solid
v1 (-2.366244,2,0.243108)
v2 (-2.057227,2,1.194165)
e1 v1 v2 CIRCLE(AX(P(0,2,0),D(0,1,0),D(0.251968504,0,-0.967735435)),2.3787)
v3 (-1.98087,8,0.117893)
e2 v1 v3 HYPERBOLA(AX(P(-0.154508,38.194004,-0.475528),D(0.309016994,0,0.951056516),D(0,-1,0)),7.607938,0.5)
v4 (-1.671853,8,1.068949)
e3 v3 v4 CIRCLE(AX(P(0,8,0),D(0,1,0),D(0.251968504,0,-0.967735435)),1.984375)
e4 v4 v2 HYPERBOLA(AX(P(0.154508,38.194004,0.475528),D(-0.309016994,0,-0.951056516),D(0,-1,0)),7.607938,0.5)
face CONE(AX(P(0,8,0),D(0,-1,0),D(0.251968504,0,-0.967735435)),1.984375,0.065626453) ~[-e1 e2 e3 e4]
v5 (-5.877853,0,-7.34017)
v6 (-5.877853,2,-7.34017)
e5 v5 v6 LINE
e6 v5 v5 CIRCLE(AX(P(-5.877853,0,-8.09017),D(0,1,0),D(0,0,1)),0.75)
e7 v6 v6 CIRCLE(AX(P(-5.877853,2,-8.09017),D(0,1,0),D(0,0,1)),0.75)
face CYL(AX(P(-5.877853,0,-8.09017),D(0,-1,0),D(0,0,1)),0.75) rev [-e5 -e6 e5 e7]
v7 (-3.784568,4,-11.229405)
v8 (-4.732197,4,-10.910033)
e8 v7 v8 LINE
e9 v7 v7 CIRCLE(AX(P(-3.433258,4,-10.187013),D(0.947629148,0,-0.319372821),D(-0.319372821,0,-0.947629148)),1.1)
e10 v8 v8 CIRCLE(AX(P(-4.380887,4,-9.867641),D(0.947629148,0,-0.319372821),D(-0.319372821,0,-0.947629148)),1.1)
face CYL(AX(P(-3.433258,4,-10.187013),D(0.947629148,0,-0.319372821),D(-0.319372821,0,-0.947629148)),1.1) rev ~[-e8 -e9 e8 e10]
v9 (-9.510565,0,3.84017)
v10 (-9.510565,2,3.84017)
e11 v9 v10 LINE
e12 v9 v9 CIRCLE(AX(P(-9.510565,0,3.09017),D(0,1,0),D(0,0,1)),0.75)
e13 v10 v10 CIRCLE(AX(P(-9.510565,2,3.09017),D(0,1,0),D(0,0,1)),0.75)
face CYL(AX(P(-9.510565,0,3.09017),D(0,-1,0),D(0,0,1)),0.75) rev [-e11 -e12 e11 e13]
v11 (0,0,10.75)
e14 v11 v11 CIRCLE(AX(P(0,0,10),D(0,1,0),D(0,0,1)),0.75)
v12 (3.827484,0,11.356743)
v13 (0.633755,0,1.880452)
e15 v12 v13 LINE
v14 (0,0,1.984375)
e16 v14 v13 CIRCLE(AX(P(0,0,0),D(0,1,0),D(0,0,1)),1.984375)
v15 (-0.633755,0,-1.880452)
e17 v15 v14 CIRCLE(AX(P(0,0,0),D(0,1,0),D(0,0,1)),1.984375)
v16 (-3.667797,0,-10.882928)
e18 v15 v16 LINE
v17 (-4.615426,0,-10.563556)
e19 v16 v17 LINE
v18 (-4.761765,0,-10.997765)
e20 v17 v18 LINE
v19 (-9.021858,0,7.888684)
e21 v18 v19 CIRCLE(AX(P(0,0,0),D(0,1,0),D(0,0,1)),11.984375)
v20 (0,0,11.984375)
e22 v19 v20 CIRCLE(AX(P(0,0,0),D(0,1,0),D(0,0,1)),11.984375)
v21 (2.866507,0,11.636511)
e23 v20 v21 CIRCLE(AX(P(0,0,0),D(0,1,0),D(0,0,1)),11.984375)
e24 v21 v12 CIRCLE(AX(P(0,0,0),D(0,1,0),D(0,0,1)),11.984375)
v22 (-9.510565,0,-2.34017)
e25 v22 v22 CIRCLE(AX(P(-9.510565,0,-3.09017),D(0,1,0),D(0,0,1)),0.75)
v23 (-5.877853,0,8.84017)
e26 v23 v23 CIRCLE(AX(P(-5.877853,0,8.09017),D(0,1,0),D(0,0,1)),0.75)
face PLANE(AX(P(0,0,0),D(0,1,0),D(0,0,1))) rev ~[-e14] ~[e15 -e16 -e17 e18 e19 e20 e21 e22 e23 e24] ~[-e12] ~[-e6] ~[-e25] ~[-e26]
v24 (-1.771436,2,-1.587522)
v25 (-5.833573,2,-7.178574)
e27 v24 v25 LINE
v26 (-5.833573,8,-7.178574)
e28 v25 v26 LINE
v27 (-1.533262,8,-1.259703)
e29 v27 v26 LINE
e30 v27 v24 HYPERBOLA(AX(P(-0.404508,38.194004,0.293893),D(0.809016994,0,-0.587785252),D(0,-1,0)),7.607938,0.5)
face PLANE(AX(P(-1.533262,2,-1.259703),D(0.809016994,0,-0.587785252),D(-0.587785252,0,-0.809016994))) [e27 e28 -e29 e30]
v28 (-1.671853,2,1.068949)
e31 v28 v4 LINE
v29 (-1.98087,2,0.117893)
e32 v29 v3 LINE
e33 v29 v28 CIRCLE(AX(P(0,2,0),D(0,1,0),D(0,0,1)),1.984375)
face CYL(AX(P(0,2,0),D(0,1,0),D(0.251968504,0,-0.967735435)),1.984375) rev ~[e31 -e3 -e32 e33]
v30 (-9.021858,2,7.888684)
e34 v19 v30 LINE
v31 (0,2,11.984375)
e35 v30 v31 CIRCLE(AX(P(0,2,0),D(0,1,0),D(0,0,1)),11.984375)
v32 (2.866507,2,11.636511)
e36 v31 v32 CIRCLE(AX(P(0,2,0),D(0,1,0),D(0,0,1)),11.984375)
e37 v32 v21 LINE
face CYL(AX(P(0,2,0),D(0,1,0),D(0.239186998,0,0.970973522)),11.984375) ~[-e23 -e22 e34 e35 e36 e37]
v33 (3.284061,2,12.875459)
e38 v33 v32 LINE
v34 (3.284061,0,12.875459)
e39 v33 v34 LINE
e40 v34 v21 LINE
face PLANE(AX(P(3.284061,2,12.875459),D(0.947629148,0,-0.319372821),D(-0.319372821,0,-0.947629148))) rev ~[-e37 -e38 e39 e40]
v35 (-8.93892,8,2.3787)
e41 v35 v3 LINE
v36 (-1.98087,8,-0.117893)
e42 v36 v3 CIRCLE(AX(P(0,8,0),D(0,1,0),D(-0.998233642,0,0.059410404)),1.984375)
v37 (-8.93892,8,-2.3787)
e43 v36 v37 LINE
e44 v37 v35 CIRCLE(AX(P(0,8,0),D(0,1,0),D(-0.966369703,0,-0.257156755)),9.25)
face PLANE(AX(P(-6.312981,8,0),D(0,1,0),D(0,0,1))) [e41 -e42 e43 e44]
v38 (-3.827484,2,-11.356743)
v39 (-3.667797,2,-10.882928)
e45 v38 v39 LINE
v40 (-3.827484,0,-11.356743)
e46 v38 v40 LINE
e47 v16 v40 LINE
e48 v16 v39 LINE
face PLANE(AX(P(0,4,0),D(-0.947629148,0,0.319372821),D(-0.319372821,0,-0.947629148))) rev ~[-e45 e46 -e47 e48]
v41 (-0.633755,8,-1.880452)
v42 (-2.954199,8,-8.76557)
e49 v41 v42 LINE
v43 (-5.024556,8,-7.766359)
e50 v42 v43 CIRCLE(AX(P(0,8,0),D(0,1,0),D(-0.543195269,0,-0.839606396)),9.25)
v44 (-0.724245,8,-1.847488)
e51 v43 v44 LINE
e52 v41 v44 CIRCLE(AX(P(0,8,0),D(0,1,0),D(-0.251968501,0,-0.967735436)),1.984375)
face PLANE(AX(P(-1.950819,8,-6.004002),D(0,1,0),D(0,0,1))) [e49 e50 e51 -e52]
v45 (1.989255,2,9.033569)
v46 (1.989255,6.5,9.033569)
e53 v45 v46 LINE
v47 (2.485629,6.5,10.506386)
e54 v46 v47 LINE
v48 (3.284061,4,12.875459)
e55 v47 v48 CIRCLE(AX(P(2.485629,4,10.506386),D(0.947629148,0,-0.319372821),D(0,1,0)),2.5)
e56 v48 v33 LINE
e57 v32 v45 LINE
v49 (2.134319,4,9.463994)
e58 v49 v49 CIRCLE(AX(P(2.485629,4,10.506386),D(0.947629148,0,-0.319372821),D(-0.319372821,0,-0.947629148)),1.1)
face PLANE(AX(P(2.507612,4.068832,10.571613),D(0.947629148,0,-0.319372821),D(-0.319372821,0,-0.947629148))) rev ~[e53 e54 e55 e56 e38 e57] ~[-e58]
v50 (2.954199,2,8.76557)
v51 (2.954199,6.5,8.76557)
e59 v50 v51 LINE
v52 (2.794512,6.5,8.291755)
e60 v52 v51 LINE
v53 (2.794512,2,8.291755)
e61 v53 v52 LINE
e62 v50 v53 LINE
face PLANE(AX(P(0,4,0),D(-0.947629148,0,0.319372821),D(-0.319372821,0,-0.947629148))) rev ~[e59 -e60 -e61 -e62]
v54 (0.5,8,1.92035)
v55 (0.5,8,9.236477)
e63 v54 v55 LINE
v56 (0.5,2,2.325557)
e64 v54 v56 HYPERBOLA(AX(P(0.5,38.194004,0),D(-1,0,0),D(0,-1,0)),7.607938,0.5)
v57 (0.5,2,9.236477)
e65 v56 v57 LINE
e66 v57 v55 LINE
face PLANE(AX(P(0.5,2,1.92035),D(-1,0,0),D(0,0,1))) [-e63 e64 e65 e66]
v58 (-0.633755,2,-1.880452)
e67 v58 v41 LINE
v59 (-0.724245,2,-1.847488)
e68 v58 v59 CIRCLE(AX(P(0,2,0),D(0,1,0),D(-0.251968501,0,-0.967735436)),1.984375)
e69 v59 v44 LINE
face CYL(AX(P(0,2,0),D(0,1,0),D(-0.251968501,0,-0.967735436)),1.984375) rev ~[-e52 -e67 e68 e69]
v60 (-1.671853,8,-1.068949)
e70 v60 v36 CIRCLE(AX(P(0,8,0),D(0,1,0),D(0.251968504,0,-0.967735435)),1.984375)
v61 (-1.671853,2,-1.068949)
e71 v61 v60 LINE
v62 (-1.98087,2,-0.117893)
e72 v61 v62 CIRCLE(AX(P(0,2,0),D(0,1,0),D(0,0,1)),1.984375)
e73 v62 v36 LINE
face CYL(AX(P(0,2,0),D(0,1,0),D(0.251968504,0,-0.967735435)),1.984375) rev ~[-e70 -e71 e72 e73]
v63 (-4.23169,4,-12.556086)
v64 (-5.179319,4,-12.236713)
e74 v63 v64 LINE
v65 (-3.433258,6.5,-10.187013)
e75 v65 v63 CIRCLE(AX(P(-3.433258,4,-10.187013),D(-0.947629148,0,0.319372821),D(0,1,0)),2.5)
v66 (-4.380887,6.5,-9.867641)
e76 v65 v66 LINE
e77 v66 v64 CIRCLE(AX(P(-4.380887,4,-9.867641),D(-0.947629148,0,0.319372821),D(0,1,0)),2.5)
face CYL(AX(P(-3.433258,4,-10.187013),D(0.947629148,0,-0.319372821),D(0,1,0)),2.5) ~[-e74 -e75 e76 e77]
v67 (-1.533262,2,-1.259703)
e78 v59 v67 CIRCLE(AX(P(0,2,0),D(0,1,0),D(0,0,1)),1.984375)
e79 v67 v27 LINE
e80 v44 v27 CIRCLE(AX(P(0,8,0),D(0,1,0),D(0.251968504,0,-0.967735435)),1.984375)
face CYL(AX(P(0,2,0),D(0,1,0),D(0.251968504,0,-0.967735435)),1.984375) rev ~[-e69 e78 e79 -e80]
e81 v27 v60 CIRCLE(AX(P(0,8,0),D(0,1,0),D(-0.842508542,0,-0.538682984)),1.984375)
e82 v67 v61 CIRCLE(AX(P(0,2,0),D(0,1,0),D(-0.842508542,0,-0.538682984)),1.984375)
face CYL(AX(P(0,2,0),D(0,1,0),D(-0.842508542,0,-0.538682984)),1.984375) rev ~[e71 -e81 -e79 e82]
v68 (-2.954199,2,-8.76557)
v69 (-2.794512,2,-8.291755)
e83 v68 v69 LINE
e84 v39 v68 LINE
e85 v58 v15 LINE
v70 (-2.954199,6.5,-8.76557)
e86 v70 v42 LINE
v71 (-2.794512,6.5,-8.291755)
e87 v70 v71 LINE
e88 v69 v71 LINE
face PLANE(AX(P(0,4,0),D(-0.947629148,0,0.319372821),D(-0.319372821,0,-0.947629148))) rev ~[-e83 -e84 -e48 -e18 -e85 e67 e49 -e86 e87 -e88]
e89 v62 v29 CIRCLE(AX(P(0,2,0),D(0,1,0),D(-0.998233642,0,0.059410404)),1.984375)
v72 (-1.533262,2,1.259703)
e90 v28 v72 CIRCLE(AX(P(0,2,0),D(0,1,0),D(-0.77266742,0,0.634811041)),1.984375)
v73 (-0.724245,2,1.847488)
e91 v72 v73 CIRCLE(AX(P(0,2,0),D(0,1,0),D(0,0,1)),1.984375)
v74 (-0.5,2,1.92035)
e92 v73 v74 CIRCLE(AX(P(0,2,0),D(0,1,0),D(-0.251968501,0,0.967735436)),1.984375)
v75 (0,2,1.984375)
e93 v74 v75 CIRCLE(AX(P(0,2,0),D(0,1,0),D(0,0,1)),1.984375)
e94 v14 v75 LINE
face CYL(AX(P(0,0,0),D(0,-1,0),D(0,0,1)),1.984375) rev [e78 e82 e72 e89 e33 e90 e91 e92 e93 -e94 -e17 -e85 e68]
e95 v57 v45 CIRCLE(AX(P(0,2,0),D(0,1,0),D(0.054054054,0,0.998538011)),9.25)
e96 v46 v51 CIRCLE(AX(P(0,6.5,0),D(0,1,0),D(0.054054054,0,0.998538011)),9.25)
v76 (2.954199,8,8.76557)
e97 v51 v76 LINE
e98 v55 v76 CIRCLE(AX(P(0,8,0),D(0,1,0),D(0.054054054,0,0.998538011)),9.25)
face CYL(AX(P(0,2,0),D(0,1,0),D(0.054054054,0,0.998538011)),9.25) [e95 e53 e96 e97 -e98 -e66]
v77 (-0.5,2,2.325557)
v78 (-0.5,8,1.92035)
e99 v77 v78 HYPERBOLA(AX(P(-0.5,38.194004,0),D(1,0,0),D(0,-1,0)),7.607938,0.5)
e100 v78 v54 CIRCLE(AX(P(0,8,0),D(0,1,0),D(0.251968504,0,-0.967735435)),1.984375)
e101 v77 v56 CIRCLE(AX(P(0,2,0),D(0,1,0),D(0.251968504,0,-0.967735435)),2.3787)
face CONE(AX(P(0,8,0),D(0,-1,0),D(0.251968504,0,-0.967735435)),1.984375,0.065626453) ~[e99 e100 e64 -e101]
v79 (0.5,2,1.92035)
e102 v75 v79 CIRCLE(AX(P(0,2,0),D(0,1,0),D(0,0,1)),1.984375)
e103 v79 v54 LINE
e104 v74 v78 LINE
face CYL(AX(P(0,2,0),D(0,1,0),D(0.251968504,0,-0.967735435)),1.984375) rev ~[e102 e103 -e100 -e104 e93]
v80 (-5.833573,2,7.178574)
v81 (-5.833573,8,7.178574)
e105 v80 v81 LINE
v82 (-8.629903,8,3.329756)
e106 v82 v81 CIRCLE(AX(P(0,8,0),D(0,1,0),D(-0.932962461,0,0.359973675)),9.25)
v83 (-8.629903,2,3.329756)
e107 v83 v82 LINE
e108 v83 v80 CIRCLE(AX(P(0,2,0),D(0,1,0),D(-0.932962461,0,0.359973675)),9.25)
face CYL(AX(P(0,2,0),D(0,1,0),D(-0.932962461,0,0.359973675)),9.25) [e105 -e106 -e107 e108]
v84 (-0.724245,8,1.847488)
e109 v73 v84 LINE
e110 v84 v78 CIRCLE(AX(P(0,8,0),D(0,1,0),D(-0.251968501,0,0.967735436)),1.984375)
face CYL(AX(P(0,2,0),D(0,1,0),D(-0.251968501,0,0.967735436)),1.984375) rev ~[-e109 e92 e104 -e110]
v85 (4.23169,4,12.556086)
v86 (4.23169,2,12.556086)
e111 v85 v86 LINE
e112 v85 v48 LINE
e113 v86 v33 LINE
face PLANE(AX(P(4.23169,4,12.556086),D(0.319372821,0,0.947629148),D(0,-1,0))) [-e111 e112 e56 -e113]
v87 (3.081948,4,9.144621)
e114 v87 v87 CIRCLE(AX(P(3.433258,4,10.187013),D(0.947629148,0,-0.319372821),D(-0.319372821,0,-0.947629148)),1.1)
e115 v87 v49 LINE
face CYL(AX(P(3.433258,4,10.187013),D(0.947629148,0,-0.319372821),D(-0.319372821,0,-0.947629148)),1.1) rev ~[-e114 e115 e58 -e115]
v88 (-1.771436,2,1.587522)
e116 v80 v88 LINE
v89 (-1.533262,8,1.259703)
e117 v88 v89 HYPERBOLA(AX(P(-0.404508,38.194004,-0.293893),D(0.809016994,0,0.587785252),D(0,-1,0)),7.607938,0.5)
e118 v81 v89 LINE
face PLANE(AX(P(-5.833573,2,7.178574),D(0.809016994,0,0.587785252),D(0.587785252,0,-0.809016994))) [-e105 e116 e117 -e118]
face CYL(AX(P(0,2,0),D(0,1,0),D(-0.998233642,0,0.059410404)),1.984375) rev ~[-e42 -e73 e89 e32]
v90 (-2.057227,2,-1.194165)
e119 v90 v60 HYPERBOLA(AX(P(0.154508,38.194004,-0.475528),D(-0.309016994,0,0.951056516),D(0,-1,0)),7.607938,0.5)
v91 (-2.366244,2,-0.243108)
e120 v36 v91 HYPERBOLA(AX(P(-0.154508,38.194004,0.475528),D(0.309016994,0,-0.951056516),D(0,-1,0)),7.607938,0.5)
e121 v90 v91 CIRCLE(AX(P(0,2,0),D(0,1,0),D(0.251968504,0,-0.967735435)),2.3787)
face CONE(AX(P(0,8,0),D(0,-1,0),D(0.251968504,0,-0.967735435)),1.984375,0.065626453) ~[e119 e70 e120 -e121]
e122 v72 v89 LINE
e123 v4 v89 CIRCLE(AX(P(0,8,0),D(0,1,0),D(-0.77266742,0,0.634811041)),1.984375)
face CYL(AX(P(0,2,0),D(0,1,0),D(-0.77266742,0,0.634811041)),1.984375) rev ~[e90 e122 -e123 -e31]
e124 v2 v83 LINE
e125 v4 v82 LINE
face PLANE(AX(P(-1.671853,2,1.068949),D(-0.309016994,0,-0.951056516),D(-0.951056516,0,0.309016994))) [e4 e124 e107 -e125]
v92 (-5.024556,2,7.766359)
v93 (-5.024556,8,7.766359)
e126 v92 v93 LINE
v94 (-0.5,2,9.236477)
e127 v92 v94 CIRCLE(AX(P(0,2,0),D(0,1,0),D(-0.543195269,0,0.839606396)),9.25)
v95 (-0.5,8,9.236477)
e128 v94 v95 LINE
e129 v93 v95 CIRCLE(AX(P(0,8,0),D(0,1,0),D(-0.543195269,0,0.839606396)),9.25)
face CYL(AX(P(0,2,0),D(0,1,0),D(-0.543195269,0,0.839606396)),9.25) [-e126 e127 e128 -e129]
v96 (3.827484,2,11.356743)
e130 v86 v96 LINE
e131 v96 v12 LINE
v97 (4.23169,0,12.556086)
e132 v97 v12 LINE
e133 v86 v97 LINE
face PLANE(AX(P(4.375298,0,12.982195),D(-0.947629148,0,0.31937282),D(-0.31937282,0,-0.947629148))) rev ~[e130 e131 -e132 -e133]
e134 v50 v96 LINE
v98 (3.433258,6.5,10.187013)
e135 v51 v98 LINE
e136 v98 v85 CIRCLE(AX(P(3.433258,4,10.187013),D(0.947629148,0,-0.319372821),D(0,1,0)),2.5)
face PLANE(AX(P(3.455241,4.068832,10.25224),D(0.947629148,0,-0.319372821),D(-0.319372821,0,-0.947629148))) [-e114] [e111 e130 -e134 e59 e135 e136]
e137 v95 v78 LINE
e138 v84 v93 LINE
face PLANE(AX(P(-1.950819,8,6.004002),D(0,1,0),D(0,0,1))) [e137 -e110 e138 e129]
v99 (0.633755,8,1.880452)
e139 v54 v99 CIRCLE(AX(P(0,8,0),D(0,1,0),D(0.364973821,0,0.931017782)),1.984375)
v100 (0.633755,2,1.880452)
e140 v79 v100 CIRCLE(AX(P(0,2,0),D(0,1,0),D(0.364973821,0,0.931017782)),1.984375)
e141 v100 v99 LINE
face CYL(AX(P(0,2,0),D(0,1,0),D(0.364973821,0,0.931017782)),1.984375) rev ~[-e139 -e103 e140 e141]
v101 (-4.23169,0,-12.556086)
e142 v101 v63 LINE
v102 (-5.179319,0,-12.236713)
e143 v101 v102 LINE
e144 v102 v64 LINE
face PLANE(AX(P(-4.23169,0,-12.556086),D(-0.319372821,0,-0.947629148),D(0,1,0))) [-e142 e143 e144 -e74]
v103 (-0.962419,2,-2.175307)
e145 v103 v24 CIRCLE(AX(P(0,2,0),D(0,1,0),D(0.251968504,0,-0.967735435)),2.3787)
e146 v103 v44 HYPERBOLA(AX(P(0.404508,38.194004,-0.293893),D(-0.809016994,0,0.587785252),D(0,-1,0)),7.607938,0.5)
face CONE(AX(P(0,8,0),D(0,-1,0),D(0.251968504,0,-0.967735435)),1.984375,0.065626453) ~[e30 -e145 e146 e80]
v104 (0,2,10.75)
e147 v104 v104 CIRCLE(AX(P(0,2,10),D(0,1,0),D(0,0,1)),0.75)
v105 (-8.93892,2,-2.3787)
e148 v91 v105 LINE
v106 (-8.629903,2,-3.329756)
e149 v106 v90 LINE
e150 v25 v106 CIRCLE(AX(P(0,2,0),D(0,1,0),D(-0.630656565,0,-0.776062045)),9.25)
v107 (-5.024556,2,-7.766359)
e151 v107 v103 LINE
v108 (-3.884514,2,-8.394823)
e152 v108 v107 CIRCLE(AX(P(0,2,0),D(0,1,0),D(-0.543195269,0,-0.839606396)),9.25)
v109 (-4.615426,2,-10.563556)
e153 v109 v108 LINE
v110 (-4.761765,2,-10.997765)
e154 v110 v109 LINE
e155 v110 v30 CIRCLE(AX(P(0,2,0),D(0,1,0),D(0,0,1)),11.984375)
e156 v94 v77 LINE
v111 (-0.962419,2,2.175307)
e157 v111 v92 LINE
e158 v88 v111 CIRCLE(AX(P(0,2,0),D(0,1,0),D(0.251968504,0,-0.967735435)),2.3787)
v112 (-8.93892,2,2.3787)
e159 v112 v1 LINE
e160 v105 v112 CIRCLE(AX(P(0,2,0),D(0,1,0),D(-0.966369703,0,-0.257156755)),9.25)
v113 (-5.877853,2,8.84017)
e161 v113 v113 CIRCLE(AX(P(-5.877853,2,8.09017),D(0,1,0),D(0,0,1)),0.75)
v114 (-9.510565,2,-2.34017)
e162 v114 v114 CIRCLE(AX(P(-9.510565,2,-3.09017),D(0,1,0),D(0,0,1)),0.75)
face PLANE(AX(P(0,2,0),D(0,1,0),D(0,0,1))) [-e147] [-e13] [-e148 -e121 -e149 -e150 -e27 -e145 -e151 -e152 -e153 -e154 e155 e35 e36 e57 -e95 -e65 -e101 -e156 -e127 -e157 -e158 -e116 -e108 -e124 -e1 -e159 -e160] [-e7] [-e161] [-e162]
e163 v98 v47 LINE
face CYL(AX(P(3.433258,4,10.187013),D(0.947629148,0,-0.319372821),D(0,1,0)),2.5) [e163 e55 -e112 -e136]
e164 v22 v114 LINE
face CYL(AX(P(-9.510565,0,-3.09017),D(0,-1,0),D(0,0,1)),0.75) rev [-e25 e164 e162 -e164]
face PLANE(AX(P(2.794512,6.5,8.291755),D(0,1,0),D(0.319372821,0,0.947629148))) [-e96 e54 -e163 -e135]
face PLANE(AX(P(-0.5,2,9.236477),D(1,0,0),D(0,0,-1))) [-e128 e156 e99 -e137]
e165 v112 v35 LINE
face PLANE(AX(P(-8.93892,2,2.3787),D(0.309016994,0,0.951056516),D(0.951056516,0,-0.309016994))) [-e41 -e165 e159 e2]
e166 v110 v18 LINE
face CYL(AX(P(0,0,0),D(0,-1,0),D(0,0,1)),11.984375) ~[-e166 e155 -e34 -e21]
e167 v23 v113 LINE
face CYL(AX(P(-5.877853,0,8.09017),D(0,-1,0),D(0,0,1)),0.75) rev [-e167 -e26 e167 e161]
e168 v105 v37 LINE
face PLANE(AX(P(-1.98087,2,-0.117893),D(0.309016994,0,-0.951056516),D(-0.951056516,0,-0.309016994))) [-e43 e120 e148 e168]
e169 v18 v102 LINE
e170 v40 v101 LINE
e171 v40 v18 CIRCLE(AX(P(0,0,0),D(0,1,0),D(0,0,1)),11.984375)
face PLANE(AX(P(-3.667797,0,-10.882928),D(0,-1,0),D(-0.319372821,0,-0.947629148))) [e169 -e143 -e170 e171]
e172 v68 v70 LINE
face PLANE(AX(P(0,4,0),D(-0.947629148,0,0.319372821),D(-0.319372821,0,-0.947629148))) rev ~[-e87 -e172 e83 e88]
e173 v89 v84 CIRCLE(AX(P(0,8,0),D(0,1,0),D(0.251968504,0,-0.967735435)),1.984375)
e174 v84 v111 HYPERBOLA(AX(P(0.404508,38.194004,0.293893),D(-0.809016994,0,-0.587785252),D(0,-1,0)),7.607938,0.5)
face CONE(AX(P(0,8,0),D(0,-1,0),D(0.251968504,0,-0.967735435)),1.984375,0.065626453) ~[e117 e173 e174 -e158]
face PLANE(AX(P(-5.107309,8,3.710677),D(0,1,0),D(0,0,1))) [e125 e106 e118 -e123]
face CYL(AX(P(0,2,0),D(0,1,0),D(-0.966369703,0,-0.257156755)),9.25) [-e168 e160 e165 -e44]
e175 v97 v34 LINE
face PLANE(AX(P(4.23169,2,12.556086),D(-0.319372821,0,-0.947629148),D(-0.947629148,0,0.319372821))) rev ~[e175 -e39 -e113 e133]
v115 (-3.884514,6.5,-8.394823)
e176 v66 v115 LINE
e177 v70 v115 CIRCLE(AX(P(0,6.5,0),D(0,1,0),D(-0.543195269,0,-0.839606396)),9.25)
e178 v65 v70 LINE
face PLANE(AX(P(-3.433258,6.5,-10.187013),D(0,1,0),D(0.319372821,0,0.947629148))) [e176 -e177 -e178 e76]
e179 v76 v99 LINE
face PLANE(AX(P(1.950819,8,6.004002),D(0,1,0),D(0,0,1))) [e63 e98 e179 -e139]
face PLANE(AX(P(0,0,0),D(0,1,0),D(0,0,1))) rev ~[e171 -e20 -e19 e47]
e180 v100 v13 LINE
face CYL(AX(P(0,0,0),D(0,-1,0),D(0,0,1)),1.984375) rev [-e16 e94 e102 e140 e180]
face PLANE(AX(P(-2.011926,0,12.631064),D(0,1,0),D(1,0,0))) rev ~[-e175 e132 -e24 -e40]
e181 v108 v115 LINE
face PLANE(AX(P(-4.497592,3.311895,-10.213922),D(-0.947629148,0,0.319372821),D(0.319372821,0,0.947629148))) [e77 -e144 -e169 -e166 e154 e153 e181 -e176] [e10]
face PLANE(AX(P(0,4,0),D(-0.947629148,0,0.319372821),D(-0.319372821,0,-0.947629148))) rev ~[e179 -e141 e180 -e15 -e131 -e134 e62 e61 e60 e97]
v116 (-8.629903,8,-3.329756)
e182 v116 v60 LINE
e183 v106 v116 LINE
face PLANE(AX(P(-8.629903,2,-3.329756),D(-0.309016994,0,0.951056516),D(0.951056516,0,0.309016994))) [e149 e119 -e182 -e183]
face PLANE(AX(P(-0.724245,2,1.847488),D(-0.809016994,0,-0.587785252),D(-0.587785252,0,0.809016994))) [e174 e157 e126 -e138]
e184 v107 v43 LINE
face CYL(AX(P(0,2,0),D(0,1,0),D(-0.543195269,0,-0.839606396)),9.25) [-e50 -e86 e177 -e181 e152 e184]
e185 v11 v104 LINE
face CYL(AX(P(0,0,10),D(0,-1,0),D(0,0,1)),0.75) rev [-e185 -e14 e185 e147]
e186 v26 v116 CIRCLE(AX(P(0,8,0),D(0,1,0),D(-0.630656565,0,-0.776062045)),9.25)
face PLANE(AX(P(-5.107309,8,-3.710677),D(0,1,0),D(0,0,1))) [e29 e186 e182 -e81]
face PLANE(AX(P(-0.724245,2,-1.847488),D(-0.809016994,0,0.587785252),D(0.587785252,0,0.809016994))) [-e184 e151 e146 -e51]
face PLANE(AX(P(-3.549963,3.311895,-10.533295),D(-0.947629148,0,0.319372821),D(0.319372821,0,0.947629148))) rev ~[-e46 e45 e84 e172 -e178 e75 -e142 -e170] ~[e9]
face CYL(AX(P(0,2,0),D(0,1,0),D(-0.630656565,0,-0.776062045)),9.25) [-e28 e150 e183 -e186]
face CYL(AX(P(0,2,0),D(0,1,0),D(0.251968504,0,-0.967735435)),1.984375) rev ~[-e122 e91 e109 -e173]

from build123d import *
from build123d.topology import SkipClean

# Parameters (mm, degrees)
SKETCH1_R           = 11.984375
SKETCH1_R_2         = 1.984375
SKETCH1_R_3         = 0.75
BOSS_EXTRUDE1_DEPTH = 2
SKETCH6_W           = 23.96875
SKETCH6_H           = 8
CUT_EXTRUDE1_DEPTH  = 19.741677841
BOSS_EXTRUDE3_START = -2
SKETCH7_R           = 1.65
BOSS_EXTRUDE3_DEPTH = 2
SKETCH8_R           = 1.1
BOSS_EXTRUDE4_DEPTH = 1
CUT_EXTRUDE2_DEPTH  = 23.122053344


with BuildPart() as part:
    # Sketch1 → Boss-Extrude1 (new body)
    with BuildSketch(Plane(origin=(0, 0, 0), x_dir=(1, 0, 0), z_dir=(0, 1, 0))):
        with Locations(Location((0, 0, 0), (0, 0, 270))):
            Circle(SKETCH1_R)
        with Locations(Location((0, 0, 0), (0, 0, 270))):
            Circle(SKETCH1_R_2, mode=Mode.SUBTRACT)
        with Locations(Location((0, 10, 0), (0, 0, 270))):
            Circle(SKETCH1_R_3, mode=Mode.SUBTRACT)
        with Locations(Location((5.877852523, 8.090169944, 0), (0, 0, 270))):
            Circle(SKETCH1_R_3, mode=Mode.SUBTRACT)
        with Locations(Location((9.510565163, 3.090169944, 0), (0, 0, 270))):
            Circle(SKETCH1_R_3, mode=Mode.SUBTRACT)
        with Locations(Location((9.510565163, -3.090169944, 0), (0, 0, 270))):
            Circle(SKETCH1_R_3, mode=Mode.SUBTRACT)
        with Locations(Location((5.877852523, -8.090169944, 0), (0, 0, 270))):
            Circle(SKETCH1_R_3, mode=Mode.SUBTRACT)
        with Locations(Location((0, -10, 0), (0, 0, 270))):
            Circle(SKETCH1_R_3, mode=Mode.SUBTRACT)
        with Locations(Location((-5.877852523, -8.090169944, 0), (0, 0, 270))):
            Circle(SKETCH1_R_3, mode=Mode.SUBTRACT)
        with Locations(Location((-9.510565163, -3.090169944, 0), (0, 0, 270))):
            Circle(SKETCH1_R_3, mode=Mode.SUBTRACT)
        with Locations(Location((-9.510565163, 3.090169944, 0), (0, 0, 270))):
            Circle(SKETCH1_R_3, mode=Mode.SUBTRACT)
        with Locations(Location((-5.877852523, 8.090169944, 0), (0, 0, 270))):
            Circle(SKETCH1_R_3, mode=Mode.SUBTRACT)
    extrude(amount=BOSS_EXTRUDE1_DEPTH)

    # Sweep1: sweep along a path in Sketch3
    with SkipClean():  # the faces are left unmerged after this step: merging them gives an invalid solid
        with BuildLine(Plane(origin=(0, 0, 0), x_dir=(0, 0, -1), z_dir=(1, 0, 0))) as sweep1_path:
            Line((0, 2), (0, 8))
        # Sketch2 → Sweep1 (sweep)
        with BuildSketch(Plane(origin=(0, 2, 0), x_dir=(1, 0, 0), z_dir=(0, 1, 0))):
            with BuildLine():
                Line((-0.5, 9.236476601), (-0.5, 1.920350005))
                ThreePointArc((-0.5, 1.920350005), (-0.613205598, 1.887252775), (-0.724244915, 1.847488415))
                Line((-0.724244915, 1.847488415), (-5.024556232, 7.766359164))
                ThreePointArc((-5.024556232, 7.766359164), (-2.858407198, 8.797272776), (-0.5, 9.236476601))
            make_face()
            with BuildLine():
                Line((0.5, 9.236476601), (0.5, 1.920350005))
                ThreePointArc((0.5, 1.920350005), (0.613205598, 1.887252775), (0.724244915, 1.847488415))
                Line((0.724244915, 1.847488415), (5.024556232, 7.766359164))
                ThreePointArc((5.024556232, 7.766359164), (2.858407198, 8.797272776), (0.5, 9.236476601))
            make_face()
            with BuildLine():
                Line((5.833573226, 7.178573912), (1.533261909, 1.259703163))
                ThreePointArc((1.533261909, 1.259703163), (1.605393098, 1.16638636), (1.671852888, 1.068949045))
                Line((1.671852888, 1.068949045), (8.629902762, 3.329756496))
                ThreePointArc((8.629902762, 3.329756496), (7.483407198, 5.437013584), (5.833573226, 7.178573912))
            make_face()
            with BuildLine():
                Line((8.938919756, 2.37869998), (1.980869883, 0.117892528))
                ThreePointArc((1.980869883, 0.117892528), (1.984375, 0), (1.980869883, -0.117892528))
                Line((1.980869883, -0.117892528), (8.938919756, -2.37869998))
                ThreePointArc((8.938919756, -2.37869998), (9.25, 0), (8.938919756, 2.37869998))
            make_face()
            with BuildLine():
                Line((8.629902762, -3.329756496), (1.671852888, -1.068949045))
                ThreePointArc((1.671852888, -1.068949045), (1.605393098, -1.16638636), (1.533261909, -1.259703163))
                Line((1.533261909, -1.259703163), (5.833573226, -7.178573912))
                ThreePointArc((5.833573226, -7.178573912), (7.483407198, -5.437013584), (8.629902762, -3.329756496))
            make_face()
            with BuildLine():
                Line((5.024556232, -7.766359164), (0.724244915, -1.847488415))
                ThreePointArc((0.724244915, -1.847488415), (0.613205598, -1.887252775), (0.5, -1.920350005))
                Line((0.5, -1.920350005), (0.5, -9.236476601))
                ThreePointArc((0.5, -9.236476601), (2.858407198, -8.797272776), (5.024556232, -7.766359164))
            make_face()
            with BuildLine():
                Line((-0.5, -9.236476601), (-0.5, -1.920350005))
                ThreePointArc((-0.5, -1.920350005), (-0.613205598, -1.887252775), (-0.724244915, -1.847488415))
                Line((-0.724244915, -1.847488415), (-5.024556232, -7.766359164))
                ThreePointArc((-5.024556232, -7.766359164), (-2.858407198, -8.797272776), (-0.5, -9.236476601))
            make_face()
            with BuildLine():
                Line((-5.833573226, -7.178573912), (-1.533261909, -1.259703163))
                ThreePointArc((-1.533261909, -1.259703163), (-1.605393098, -1.16638636), (-1.671852888, -1.068949045))
                Line((-1.671852888, -1.068949045), (-8.629902762, -3.329756496))
                ThreePointArc((-8.629902762, -3.329756496), (-7.483407198, -5.437013584), (-5.833573226, -7.178573912))
            make_face()
            with BuildLine():
                Line((-8.938919756, -2.37869998), (-1.980869883, -0.117892528))
                ThreePointArc((-1.980869883, -0.117892528), (-1.984375, 0), (-1.980869883, 0.117892528))
                Line((-1.980869883, 0.117892528), (-8.938919756, 2.37869998))
                ThreePointArc((-8.938919756, 2.37869998), (-9.25, 0), (-8.938919756, -2.37869998))
            make_face()
            with BuildLine():
                Line((-8.629902762, 3.329756496), (-1.671852888, 1.068949045))
                ThreePointArc((-1.671852888, 1.068949045), (-1.605393098, 1.16638636), (-1.533261909, 1.259703163))
                Line((-1.533261909, 1.259703163), (-5.833573226, 7.178573912))
                ThreePointArc((-5.833573226, 7.178573912), (-7.483407198, 5.437013584), (-8.629902762, 3.329756496))
            make_face()
        sweep(path=sweep1_path.line)

    # Sketch4 → Revolve1 (revolve)
    with SkipClean():  # the faces are left unmerged after this step: merging them gives an invalid solid
        with BuildSketch(Plane(origin=(0, 0, 0), x_dir=(0, 0, -1), z_dir=(1, 0, 0)), mode=Mode.PRIVATE) as revolve1_sk:
            Polygon((-2.37869998, 2), (-1.984375, 2), (-1.984375, 8), align=None)
        revolve(revolve1_sk.sketch.rotate(Axis((0, 0, 0), (0, 1, 0)), 165.405971265), axis=Axis((0, 0, 0), (0, 1, 0)))

    # Sketch6 → Cut-Extrude1 (cut, through all)
    with SkipClean():  # the faces are left unmerged after this step: merging them gives an invalid solid
        with BuildSketch(Plane(origin=(0, 0, 0), x_dir=(-0.3193728209047868, 0, -0.9476291475399641), z_dir=(-0.9476291475399641, 0, 0.3193728209047868))):
            with Locations((0, -4)):
                Rectangle(SKETCH6_W, SKETCH6_H)
        extrude(amount=-CUT_EXTRUDE1_DEPTH, mode=Mode.SUBTRACT)

    # Sketch7 → Boss-Extrude3 (add)
    with SkipClean():  # the faces are left unmerged after this step: merging them gives an invalid solid
        with BuildSketch(Plane(origin=(0, 2, 0), x_dir=(1, 0, 0), z_dir=(0, 1, 0)).offset(BOSS_EXTRUDE3_START)):
            with BuildLine():
                Line((-9.021857716, -7.888683508), (-1.576209535, -16.403865848))
                ThreePointArc((-1.576209535, -16.403865848), (2.803074288, -17.134270389), (4.375298385, -12.982195127))
                Line((4.375298385, -12.982195127), (3.827483651, -11.356743065))
                ThreePointArc((3.827483651, -11.356743065), (-3.122857627, -11.570350227), (-9.021857716, -7.888683508))
            make_face()
            with Locations(Location((1.058596369, -14.1, 0), (0, 0, 270))):
                Circle(SKETCH7_R, mode=Mode.SUBTRACT)
        extrude(amount=BOSS_EXTRUDE3_DEPTH)

    # Sketch8 → Boss-Extrude4 (add)
    # profile 1 of 2: a face of its own
    with SkipClean():  # the faces are left unmerged after this step: merging them gives an invalid solid
        with BuildSketch(Plane(origin=(0, 0, 0), x_dir=(-0.31937282090478675, 0, -0.9476291475399641), z_dir=(0.9476291475399641, 0, -0.31937282090478675))):
            with BuildLine():
                Line((-13.25, 4), (-13.25, 2))
                Line((-13.25, 2), (-8.75, 2))
                Line((-8.75, 2), (-8.75, 6.5))
                Line((-8.75, 6.5), (-9.25, 6.5))
                Line((-9.25, 6.5), (-10.75, 6.5))
                ThreePointArc((-10.75, 6.5), (-12.517766953, 5.767766953), (-13.25, 4))
            make_face()
            with Locations((-10.75, 4)):
                Circle(SKETCH8_R, mode=Mode.SUBTRACT)
        # profile 2 of 2: a face of its own
        with BuildSketch(Plane(origin=(0, 0, 0), x_dir=(-0.31937282090478675, 0, -0.9476291475399641), z_dir=(0.9476291475399641, 0, -0.31937282090478675))):
            with BuildLine():
                Line((11.484375, 2), (8.75, 2))
                Line((8.75, 2), (8.75, 6.5))
                Line((8.75, 6.5), (9.25, 6.5))
                Line((9.25, 6.5), (10.75, 6.5))
                ThreePointArc((10.75, 6.5), (12.517766953, 5.767766953), (13.25, 4))
                Line((13.25, 4), (13.25, 2))
                Line((13.25, 2), (13.25, 0))
                Line((13.25, 0), (11.984375, 0))
                Line((11.984375, 0), (11.484375, 0))
                Line((11.484375, 0), (11.484375, 2))
            make_face()
            with Locations((10.75, 4)):
                Circle(SKETCH8_R, mode=Mode.SUBTRACT)
        extrude(amount=-BOSS_EXTRUDE4_DEPTH)

    # Sketch9 → Cut-Extrude2 (cut, through all)
    with SkipClean():  # the faces are left unmerged after this step: merging them gives an invalid solid
        with BuildSketch(Plane(origin=(0, 2, 0), x_dir=(1, 0, 0), z_dir=(0, 1, 0))):
            with BuildLine():
                Line((-9.021857716, -7.888683508), (-1.576209535, -16.403865848))
                ThreePointArc((-1.576209535, -16.403865848), (2.803074288, -17.134270389), (4.375298385, -12.982195127))
                Line((4.375298385, -12.982195127), (4.231689877, -12.556086205))
                Line((4.231689877, -12.556086205), (3.284060729, -12.875459026))
                Line((3.284060729, -12.875459026), (2.866506678, -11.6365108))
                ThreePointArc((2.866506678, -11.6365108), (-3.603281692, -11.429855869), (-9.021857716, -7.888683508))
            make_face()
        extrude(amount=-CUT_EXTRUDE2_DEPTH, mode=Mode.SUBTRACT)


solid = part.part
